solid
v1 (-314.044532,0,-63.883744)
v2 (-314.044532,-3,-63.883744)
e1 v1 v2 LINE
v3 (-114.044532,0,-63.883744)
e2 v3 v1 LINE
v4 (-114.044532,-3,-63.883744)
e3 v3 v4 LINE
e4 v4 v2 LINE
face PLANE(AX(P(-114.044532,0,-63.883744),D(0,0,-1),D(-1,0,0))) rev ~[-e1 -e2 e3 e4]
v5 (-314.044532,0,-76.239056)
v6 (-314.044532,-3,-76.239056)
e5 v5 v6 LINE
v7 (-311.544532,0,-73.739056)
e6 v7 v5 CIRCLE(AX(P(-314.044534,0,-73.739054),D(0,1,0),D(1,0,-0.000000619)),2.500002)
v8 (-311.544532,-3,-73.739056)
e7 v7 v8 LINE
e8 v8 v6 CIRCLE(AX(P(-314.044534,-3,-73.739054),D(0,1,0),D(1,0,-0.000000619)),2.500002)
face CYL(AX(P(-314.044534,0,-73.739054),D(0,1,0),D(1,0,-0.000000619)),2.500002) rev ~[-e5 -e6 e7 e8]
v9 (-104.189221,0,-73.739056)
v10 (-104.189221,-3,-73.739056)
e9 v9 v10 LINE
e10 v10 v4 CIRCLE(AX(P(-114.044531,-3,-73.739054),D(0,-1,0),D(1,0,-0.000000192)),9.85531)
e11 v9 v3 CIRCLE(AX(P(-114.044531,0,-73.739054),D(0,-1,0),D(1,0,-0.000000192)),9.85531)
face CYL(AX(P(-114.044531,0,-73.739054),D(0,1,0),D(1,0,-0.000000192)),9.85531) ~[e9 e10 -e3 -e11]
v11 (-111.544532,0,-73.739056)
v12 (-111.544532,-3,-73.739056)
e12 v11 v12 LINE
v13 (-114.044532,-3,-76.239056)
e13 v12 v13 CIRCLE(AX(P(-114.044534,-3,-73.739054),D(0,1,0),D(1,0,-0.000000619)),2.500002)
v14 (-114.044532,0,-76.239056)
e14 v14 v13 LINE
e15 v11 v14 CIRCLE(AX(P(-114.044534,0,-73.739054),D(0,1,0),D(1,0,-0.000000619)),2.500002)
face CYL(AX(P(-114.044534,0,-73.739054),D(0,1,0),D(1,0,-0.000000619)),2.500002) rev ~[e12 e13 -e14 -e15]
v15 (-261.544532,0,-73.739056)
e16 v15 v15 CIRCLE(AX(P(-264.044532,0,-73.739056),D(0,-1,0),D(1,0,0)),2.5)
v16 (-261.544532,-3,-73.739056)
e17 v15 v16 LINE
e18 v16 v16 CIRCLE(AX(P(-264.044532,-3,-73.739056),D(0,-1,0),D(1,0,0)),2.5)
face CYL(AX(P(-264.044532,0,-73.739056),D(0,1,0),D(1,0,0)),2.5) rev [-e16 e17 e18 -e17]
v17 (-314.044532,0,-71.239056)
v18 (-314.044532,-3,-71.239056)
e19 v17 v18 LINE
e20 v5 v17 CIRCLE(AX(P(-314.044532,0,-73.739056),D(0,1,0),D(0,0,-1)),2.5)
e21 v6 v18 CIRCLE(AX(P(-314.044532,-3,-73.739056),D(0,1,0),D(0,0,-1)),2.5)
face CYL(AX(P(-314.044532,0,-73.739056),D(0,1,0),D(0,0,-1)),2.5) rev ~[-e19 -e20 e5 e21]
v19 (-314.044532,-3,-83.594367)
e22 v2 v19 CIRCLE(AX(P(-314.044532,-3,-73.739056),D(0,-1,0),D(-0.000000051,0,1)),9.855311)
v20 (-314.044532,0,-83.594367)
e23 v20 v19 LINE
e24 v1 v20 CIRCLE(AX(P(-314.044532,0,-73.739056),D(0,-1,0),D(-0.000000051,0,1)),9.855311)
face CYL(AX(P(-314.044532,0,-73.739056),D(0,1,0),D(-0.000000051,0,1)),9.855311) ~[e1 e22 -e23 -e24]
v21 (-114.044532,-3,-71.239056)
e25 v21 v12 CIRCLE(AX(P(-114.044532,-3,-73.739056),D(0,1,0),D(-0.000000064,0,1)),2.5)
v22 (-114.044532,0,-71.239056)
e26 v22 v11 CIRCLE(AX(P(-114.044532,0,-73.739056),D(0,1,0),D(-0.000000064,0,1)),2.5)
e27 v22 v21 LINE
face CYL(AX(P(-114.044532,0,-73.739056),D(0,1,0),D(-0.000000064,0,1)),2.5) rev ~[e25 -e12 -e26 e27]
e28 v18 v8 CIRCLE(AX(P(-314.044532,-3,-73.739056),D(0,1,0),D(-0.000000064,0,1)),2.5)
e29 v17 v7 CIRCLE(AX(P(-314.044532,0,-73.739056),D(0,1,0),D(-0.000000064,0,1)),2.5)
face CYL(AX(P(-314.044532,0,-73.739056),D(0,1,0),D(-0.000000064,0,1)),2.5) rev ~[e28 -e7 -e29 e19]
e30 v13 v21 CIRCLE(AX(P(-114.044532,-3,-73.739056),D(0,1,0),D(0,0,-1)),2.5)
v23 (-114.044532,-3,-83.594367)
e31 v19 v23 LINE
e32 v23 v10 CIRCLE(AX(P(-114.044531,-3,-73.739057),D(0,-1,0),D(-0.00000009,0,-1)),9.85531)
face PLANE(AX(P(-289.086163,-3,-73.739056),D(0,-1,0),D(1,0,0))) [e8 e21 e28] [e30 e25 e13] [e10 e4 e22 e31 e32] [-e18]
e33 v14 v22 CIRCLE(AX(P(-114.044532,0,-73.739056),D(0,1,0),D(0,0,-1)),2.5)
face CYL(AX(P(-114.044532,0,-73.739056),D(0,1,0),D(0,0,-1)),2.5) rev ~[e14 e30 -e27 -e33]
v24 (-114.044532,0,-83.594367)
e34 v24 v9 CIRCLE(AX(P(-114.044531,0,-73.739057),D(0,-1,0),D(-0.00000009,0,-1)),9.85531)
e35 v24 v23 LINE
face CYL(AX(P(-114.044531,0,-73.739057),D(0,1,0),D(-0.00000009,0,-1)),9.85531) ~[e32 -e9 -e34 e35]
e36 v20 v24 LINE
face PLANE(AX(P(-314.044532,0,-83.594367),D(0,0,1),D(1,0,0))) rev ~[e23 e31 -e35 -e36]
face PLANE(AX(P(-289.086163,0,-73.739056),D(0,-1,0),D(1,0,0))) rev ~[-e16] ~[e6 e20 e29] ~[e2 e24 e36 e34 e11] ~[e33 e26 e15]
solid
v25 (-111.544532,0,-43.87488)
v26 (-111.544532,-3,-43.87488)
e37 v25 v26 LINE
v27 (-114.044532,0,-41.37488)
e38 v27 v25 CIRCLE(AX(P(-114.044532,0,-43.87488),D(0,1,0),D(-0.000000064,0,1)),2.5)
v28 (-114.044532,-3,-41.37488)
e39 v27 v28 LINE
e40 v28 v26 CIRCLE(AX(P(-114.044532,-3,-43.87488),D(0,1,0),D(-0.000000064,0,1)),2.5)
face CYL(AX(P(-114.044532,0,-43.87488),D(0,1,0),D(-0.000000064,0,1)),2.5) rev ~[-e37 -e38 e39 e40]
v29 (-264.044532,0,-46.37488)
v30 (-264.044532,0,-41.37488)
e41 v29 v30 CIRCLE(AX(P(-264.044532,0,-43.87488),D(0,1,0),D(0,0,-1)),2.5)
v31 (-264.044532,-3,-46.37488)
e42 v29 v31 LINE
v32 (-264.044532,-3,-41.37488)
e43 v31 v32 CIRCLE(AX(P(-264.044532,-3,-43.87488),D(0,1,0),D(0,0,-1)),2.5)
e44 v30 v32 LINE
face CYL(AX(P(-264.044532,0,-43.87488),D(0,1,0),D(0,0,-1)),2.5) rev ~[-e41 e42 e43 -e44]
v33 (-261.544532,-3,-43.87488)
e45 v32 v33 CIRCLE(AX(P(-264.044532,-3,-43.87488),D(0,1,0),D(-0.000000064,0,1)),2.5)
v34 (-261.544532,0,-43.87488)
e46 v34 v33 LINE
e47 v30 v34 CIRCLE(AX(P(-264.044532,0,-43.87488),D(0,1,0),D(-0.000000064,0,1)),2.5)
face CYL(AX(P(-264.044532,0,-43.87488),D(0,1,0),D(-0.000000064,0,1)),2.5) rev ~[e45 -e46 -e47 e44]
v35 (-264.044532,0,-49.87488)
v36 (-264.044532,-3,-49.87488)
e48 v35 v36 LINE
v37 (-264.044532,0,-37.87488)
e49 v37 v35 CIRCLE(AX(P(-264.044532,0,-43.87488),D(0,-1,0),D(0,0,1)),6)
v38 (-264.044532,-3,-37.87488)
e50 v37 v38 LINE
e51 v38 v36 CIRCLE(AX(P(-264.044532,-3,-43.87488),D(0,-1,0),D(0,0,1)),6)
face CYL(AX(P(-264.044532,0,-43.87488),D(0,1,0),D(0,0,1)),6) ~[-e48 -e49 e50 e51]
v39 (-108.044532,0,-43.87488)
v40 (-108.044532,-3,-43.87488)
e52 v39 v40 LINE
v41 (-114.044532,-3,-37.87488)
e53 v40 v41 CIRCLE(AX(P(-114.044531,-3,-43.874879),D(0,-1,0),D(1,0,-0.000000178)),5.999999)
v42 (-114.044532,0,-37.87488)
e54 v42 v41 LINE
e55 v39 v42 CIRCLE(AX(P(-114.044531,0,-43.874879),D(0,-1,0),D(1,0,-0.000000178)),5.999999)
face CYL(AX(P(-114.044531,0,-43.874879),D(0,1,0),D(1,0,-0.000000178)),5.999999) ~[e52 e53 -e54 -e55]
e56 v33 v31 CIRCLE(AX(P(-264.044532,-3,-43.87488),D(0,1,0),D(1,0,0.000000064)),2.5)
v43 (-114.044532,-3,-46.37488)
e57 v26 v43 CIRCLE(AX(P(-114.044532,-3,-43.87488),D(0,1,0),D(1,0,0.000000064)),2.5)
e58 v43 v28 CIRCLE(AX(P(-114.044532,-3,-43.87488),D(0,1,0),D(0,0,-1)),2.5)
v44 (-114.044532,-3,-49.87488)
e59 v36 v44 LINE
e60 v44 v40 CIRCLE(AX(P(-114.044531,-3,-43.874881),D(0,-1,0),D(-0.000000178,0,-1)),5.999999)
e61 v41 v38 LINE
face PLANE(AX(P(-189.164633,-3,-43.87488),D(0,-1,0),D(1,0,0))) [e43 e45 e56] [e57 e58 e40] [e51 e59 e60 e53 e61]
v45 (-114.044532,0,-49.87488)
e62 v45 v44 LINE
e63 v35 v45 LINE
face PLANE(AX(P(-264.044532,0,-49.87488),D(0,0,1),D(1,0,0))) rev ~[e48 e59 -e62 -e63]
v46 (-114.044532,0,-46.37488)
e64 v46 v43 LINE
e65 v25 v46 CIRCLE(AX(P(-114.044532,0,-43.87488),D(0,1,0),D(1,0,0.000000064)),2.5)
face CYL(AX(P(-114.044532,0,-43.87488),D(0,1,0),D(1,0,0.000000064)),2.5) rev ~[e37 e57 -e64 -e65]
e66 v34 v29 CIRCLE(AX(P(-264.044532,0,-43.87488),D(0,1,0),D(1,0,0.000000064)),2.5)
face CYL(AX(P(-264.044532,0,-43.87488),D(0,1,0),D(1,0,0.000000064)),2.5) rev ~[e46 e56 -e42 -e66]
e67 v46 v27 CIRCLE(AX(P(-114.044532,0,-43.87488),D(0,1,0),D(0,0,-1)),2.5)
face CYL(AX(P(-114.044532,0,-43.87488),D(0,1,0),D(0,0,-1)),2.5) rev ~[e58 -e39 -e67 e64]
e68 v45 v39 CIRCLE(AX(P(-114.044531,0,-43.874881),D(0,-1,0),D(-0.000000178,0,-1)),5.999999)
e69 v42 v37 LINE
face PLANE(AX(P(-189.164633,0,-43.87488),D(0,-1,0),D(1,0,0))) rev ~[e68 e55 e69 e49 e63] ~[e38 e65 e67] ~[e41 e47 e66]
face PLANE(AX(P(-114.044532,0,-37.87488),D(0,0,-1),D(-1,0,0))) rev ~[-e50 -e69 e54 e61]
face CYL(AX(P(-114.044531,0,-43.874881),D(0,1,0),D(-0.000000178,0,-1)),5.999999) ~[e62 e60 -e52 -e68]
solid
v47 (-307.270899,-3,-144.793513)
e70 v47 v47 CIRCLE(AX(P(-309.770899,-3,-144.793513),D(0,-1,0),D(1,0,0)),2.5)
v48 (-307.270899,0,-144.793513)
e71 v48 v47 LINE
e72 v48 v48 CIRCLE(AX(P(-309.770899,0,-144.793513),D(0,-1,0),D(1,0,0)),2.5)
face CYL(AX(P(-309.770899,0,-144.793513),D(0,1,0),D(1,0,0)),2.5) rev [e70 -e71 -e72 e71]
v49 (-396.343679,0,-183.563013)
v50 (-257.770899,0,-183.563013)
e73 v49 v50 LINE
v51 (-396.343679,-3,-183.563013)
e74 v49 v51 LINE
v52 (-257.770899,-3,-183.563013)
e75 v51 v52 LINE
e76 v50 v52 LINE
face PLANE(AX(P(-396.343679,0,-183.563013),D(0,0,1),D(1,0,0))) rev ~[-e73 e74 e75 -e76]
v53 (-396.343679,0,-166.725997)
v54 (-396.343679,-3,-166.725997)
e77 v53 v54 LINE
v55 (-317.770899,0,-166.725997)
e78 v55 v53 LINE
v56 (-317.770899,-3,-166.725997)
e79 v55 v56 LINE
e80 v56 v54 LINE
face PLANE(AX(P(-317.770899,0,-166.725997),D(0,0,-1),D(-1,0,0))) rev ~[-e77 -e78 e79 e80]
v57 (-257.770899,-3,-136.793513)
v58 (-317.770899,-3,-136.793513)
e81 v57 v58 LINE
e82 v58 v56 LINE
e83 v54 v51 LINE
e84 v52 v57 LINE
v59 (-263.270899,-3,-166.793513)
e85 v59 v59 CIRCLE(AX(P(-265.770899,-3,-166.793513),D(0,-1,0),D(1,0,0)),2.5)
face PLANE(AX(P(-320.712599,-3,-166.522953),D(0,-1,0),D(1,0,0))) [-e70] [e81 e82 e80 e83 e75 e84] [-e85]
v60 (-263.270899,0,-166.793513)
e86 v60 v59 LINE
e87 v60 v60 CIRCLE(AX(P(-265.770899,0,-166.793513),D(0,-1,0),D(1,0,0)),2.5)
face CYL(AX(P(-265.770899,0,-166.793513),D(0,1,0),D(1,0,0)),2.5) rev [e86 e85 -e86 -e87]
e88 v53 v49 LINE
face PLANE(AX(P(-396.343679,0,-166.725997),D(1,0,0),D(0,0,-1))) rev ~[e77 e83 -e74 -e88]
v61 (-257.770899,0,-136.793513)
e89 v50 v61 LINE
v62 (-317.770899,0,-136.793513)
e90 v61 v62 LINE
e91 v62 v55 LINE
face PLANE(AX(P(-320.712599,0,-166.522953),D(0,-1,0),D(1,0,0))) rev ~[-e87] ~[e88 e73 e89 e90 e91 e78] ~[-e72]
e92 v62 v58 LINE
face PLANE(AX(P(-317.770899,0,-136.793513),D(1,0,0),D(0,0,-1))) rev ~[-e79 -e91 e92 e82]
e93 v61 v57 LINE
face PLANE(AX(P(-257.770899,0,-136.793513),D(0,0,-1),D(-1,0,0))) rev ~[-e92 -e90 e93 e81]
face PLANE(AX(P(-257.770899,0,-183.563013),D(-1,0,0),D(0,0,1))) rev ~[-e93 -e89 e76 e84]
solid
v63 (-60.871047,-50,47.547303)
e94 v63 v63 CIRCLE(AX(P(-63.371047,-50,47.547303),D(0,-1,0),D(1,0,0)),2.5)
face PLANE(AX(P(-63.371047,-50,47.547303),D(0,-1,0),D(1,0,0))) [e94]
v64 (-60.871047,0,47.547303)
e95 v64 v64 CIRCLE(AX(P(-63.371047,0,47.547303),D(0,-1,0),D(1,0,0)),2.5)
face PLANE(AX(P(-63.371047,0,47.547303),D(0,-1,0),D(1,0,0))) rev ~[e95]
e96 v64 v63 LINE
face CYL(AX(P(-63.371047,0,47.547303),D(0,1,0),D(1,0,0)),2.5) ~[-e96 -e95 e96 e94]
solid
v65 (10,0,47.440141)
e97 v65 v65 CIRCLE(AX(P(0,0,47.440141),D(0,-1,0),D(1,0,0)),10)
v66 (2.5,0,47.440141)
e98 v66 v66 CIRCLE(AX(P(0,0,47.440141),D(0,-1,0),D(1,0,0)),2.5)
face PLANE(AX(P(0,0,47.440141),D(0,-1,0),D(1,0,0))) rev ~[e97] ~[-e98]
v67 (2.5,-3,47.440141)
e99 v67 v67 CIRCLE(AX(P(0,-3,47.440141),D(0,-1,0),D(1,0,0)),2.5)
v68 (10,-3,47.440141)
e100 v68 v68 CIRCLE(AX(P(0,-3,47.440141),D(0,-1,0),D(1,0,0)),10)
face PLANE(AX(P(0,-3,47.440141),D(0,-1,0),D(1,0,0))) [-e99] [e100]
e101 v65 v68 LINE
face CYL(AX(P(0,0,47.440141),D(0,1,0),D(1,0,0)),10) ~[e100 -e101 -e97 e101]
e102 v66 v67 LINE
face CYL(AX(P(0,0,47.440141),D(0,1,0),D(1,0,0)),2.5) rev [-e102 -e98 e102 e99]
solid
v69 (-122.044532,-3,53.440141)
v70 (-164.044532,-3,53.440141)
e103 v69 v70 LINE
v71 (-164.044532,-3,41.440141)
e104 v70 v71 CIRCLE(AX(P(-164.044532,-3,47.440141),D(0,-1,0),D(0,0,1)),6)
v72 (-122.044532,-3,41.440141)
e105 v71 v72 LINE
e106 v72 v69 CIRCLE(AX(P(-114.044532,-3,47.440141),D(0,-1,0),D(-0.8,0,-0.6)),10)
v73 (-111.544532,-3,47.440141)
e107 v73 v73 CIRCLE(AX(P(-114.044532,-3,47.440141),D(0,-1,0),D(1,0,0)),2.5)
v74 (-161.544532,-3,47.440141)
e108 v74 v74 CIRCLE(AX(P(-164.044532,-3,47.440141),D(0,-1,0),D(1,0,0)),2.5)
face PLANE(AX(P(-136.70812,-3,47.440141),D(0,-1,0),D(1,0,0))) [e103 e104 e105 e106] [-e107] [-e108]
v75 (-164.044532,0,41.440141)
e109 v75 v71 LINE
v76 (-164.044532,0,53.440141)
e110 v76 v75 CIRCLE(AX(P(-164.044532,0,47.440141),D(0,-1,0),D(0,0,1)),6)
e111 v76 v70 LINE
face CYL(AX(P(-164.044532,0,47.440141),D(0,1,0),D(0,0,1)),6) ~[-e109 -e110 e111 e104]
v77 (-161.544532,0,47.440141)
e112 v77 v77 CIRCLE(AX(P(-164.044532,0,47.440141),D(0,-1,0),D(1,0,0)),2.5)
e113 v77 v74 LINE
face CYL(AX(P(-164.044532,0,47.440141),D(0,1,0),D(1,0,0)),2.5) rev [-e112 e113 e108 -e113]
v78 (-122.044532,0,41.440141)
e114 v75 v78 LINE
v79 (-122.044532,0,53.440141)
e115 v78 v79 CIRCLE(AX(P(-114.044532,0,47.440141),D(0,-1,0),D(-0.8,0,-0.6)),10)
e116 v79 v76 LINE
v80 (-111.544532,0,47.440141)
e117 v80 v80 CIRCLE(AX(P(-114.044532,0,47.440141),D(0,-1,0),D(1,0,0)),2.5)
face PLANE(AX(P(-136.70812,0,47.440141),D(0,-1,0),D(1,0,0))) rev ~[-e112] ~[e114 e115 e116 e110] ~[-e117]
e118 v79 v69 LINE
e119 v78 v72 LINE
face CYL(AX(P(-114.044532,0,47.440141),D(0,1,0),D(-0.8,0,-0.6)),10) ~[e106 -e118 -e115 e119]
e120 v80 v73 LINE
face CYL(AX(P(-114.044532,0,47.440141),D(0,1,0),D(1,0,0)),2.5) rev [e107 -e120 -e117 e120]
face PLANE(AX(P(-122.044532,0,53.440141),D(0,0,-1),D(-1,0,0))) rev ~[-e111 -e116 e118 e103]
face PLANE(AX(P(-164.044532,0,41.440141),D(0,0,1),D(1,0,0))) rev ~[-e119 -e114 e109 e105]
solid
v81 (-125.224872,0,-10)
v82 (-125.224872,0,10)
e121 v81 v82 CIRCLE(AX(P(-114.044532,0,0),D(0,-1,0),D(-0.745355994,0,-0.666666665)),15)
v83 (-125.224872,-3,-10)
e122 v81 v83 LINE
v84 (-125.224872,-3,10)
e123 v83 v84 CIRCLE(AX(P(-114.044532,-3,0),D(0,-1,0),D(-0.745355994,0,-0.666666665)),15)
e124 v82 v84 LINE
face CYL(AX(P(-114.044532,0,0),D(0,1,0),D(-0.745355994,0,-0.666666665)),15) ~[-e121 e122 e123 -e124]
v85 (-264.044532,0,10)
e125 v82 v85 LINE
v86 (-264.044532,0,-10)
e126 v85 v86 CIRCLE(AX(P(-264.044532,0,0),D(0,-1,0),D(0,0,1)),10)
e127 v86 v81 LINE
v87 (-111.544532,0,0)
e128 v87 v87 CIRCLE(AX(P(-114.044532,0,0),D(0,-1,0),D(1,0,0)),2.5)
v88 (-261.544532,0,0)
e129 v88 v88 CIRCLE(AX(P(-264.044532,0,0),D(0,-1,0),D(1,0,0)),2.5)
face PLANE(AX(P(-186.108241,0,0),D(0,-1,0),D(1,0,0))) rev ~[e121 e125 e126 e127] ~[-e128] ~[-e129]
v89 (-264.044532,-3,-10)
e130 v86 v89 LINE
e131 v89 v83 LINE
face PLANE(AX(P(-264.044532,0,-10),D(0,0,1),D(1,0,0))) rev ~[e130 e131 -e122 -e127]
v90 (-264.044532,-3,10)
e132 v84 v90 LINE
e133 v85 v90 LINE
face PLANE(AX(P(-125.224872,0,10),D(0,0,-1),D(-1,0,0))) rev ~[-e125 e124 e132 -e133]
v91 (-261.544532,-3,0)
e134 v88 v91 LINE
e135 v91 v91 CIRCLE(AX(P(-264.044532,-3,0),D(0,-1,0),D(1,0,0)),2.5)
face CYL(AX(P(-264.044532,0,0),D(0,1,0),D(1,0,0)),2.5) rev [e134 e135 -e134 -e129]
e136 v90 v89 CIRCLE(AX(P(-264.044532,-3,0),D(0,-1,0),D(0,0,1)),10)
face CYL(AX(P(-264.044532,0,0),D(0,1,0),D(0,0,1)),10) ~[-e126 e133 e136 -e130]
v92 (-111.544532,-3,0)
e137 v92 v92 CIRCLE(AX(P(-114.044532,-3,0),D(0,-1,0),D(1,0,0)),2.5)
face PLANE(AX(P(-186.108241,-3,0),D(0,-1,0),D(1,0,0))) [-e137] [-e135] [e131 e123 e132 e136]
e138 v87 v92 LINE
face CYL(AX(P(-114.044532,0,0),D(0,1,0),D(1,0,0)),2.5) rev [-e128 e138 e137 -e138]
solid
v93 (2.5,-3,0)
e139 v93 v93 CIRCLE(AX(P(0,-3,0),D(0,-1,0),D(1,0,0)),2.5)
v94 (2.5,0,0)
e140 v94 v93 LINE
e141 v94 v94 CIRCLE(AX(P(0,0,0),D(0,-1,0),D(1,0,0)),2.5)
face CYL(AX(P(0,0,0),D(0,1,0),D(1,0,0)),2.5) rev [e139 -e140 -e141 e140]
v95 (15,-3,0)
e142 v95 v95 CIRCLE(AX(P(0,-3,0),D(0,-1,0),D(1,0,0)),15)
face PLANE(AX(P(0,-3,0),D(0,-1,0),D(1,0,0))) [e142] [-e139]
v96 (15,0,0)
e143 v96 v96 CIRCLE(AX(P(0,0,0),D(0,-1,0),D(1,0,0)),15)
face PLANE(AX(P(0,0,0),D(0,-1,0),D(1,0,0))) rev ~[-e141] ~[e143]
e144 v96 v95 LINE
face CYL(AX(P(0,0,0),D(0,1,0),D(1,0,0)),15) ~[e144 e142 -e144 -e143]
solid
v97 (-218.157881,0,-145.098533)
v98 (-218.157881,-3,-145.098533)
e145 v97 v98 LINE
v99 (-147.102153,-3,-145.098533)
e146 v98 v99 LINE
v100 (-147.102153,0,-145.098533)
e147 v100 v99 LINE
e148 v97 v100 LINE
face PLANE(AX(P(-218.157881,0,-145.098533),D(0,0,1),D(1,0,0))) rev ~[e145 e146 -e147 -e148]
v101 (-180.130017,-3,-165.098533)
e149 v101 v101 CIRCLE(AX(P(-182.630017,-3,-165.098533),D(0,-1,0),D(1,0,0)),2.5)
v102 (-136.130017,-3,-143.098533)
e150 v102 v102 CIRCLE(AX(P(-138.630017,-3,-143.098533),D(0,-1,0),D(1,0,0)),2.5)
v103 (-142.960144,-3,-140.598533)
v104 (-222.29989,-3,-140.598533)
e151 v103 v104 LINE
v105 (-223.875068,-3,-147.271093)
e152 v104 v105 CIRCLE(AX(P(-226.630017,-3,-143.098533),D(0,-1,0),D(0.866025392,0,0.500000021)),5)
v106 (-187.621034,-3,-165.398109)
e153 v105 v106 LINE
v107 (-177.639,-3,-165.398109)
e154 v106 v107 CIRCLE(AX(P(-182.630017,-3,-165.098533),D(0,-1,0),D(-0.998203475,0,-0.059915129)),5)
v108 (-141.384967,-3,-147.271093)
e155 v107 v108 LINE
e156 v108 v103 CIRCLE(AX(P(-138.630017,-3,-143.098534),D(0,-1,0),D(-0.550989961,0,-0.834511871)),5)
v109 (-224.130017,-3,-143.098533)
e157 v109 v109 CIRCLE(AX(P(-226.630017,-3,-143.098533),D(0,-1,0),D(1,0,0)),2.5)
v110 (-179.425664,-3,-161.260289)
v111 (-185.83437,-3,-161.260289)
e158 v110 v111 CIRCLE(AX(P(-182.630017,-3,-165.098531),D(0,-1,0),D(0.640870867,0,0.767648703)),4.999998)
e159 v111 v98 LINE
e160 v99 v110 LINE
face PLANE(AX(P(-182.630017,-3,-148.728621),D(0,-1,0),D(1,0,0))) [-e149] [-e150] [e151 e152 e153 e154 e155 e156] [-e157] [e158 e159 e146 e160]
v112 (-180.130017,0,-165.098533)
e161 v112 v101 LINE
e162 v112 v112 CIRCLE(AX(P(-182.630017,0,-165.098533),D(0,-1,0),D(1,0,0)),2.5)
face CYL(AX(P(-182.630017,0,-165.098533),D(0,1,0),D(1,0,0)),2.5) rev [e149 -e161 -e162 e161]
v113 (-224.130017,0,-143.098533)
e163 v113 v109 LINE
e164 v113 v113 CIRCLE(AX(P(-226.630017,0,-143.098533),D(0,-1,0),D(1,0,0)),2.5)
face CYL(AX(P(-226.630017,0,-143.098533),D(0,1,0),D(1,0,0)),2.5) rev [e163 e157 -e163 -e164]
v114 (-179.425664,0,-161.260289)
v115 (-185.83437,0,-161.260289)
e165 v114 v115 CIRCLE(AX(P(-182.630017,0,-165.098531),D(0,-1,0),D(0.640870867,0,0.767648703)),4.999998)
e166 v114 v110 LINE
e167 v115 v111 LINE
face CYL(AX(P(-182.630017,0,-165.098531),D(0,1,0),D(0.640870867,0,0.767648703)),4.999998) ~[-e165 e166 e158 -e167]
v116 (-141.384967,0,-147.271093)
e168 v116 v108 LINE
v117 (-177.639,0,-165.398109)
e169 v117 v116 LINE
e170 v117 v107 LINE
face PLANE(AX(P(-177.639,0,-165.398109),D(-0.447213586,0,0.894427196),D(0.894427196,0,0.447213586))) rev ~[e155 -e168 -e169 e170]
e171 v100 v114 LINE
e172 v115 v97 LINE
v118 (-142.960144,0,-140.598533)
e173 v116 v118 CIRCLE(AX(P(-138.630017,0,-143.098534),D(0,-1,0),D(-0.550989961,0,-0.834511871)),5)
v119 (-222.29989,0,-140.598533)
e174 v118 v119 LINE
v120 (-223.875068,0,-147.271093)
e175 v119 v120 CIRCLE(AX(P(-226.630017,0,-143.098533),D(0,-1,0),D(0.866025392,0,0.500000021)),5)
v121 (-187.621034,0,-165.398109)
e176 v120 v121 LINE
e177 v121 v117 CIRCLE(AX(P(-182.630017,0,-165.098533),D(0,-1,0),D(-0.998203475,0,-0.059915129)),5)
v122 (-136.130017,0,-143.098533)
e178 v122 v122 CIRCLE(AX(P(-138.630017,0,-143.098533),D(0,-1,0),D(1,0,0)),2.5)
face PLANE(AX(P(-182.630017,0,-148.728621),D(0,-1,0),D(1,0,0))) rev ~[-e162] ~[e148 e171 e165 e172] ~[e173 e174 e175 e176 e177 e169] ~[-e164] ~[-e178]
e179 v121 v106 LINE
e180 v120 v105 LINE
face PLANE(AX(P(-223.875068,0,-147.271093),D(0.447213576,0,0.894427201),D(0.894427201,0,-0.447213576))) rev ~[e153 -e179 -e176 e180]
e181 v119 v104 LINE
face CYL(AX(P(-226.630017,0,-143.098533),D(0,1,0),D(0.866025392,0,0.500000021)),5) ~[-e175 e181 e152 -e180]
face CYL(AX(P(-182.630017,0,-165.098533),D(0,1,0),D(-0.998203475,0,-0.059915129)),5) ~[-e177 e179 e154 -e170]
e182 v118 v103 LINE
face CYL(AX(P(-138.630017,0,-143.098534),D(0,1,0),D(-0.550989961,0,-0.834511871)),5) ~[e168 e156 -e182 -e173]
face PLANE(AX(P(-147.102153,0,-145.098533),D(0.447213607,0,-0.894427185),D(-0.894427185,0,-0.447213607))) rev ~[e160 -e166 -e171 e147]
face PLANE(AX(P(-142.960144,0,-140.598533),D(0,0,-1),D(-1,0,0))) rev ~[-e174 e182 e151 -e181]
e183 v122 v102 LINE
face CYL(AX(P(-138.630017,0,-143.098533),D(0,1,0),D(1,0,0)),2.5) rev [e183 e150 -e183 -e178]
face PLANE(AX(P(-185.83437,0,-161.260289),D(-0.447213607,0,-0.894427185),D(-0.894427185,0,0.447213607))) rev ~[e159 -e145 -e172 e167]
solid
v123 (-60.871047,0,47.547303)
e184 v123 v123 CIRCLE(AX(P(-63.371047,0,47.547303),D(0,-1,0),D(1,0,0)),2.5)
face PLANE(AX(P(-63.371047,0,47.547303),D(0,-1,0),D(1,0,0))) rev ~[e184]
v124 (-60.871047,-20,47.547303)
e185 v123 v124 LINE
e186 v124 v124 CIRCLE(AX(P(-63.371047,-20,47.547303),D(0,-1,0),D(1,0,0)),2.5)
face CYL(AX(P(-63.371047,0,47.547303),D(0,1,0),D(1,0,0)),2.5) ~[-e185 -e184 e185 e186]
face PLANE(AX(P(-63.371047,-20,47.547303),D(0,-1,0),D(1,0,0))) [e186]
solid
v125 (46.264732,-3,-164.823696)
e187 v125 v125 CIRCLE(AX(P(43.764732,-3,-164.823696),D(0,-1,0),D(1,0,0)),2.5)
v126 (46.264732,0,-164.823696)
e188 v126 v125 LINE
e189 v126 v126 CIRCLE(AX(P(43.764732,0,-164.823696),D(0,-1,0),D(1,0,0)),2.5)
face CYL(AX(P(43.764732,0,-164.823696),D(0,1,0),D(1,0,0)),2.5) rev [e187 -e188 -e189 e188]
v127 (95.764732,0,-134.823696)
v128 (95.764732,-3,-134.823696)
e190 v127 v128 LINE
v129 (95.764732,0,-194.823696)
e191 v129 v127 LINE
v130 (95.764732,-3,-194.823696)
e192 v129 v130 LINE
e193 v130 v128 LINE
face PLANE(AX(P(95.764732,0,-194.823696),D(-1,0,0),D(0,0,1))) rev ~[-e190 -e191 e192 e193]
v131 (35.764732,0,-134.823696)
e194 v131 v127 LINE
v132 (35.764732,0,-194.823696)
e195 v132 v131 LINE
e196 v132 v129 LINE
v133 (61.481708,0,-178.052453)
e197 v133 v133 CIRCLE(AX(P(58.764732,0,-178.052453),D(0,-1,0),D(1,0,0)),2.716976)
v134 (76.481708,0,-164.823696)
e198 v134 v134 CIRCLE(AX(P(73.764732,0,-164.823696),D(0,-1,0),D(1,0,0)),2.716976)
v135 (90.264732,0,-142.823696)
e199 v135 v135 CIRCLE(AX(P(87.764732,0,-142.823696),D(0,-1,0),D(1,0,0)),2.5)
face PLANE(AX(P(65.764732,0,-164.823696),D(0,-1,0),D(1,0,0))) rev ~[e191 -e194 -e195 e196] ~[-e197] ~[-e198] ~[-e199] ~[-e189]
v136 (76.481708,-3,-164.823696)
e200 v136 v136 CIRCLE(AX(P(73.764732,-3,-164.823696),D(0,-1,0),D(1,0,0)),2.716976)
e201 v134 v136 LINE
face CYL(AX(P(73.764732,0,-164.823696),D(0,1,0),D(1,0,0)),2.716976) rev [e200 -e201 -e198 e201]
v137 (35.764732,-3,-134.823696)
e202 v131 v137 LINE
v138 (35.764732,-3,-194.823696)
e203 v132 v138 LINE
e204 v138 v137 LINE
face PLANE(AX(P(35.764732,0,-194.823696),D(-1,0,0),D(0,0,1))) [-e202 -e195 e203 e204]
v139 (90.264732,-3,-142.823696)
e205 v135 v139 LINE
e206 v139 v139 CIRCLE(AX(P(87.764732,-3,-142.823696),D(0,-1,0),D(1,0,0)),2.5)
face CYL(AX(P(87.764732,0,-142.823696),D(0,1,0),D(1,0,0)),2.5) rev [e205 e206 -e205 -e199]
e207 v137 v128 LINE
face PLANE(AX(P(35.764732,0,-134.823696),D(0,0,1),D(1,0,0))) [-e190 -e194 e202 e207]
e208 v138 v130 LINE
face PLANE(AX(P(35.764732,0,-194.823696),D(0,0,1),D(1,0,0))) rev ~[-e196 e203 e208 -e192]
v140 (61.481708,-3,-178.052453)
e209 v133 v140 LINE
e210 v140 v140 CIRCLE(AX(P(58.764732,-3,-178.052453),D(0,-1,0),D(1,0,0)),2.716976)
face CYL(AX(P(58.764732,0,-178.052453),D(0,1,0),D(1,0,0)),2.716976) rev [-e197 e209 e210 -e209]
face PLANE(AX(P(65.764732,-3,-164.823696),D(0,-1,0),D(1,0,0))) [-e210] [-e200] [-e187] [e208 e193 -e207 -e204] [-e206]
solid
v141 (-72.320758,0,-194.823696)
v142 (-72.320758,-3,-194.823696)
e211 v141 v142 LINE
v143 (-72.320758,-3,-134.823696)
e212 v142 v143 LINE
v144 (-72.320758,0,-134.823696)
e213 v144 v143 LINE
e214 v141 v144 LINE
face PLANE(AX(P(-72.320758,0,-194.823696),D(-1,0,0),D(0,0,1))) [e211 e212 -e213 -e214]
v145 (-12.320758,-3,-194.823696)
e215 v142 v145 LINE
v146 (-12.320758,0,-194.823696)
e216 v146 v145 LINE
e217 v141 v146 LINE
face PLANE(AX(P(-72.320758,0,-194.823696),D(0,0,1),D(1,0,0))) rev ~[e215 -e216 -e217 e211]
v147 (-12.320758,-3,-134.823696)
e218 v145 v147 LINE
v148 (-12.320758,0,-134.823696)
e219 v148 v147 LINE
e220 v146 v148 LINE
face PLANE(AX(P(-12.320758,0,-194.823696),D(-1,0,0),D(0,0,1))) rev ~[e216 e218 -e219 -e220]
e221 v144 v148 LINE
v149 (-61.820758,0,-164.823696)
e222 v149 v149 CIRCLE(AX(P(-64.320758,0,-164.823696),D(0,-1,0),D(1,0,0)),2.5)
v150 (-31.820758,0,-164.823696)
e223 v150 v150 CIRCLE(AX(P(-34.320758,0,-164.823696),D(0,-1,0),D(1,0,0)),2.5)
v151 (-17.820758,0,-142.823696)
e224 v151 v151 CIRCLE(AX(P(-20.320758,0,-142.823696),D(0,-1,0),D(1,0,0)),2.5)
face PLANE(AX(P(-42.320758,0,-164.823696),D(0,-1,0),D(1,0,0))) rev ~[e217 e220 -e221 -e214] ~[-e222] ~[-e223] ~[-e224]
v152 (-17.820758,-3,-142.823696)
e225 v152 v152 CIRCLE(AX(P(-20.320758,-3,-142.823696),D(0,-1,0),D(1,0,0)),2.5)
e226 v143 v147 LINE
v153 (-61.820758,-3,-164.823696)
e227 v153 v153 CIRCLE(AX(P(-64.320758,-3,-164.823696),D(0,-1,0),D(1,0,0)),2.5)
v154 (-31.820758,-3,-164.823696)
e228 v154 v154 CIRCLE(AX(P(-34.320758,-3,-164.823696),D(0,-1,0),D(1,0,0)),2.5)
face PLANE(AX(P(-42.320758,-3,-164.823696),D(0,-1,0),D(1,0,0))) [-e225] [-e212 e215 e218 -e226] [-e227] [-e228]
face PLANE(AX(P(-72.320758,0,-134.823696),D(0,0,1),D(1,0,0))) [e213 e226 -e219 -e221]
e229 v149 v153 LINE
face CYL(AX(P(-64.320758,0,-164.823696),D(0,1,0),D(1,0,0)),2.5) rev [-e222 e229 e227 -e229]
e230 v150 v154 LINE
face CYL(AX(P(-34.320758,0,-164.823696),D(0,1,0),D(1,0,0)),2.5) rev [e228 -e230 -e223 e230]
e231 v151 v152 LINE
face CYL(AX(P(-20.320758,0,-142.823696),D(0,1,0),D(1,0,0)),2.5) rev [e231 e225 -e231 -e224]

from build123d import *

# Parameters (mm, degrees)
F0_R     = 15
F0_R_2   = 2.5
F0_R_3   = 10
F0_W     = 60
F0_H     = 60
F0_R_4   = 2.716976
F1_DEPTH = 3
F2_R     = 2.5
F3_DEPTH = 50
F4_DEPTH = 20


with BuildPart() as f1:
    # F0 (on Front) → F1 (new body)
    with BuildSketch(Plane.XZ):
        Circle(F0_R)
        Circle(F0_R_2, mode=Mode.SUBTRACT)
        with Locations((0, 47.440141)):
            Circle(F0_R_3)
        with Locations((0, 47.440141)):
            Circle(F0_R_2, mode=Mode.SUBTRACT)
        with BuildLine():
            Line((-164.044532, 41.440141), (-122.044532, 41.440141))
            ThreePointArc((-122.044532, 41.440141), (-104.044532, 47.440141), (-122.044532, 53.440141))
            Line((-122.044532, 53.440141), (-164.044532, 53.440141))
            ThreePointArc((-164.044532, 53.440141), (-170.044532, 47.440141), (-164.044532, 41.440141))
        make_face()
        with Locations((-164.044532, 47.440141)):
            Circle(F0_R_2, mode=Mode.SUBTRACT)
        with Locations((-114.044532, 47.440141)):
            Circle(F0_R_2, mode=Mode.SUBTRACT)
        with BuildLine():
            Line((-264.044532, -10), (-125.224872, -10))
            ThreePointArc((-125.224872, -10), (-99.044532, 0), (-125.224872, 10))
            Line((-125.224872, 10), (-264.044532, 10))
            ThreePointArc((-264.044532, 10), (-274.044532, 0), (-264.044532, -10))
        make_face()
        with Locations((-264.044532, 0)):
            Circle(F0_R_2, mode=Mode.SUBTRACT)
        with Locations((-114.044532, 0)):
            Circle(F0_R_2, mode=Mode.SUBTRACT)
        with BuildLine():
            ThreePointArc((-114.044532, -49.87488), (-120.044532, -43.87488), (-114.044532, -37.87488))
            Line((-114.044532, -37.87488), (-264.044532, -37.87488))
            ThreePointArc((-264.044532, -37.87488), (-259.801891, -39.632239), (-258.044532, -43.87488))
            ThreePointArc((-258.044532, -43.87488), (-259.801891, -48.117521), (-264.044532, -49.87488))
            Line((-264.044532, -49.87488), (-114.044532, -49.87488))
        make_face()
        with BuildLine():
            Line((-114.044532, -41.37488), (-114.044532, -37.87488))
            ThreePointArc((-114.044532, -37.87488), (-120.044532, -43.87488), (-114.044532, -49.87488))
            Line((-114.044532, -49.87488), (-114.044532, -46.37488))
            ThreePointArc((-114.044532, -46.37488), (-116.544532, -43.87488), (-114.044532, -41.37488))
        make_face()
        with BuildLine():
            ThreePointArc((-258.044532, -43.87488), (-259.801891, -39.632239), (-264.044532, -37.87488))
            Line((-264.044532, -37.87488), (-264.044532, -41.37488))
            ThreePointArc((-264.044532, -41.37488), (-262.276765, -42.107113), (-261.544532, -43.87488))
            ThreePointArc((-261.544532, -43.87488), (-262.276765, -45.642647), (-264.044532, -46.37488))
            Line((-264.044532, -46.37488), (-264.044532, -49.87488))
            ThreePointArc((-264.044532, -49.87488), (-259.801891, -48.117521), (-258.044532, -43.87488))
        make_face()
        with BuildLine():
            ThreePointArc((-264.044532, -83.594367), (-273.899843, -73.739055), (-264.044532, -63.883744))
            Line((-264.044532, -63.883744), (-314.044532, -63.883744))
            ThreePointArc((-314.044532, -63.883744), (-307.075774, -66.770298), (-304.189221, -73.739056))
            ThreePointArc((-304.189221, -73.739056), (-307.075774, -80.707813), (-314.044532, -83.594367))
            Line((-314.044532, -83.594367), (-264.044532, -83.594367))
        make_face()
        with BuildLine():
            ThreePointArc((-114.044532, -83.594367), (-123.899843, -73.739056), (-114.044532, -63.883744))
            Line((-114.044532, -63.883744), (-264.044532, -63.883744))
            ThreePointArc((-264.044532, -63.883744), (-257.075774, -66.770298), (-254.189221, -73.739056))
            ThreePointArc((-254.189221, -73.739056), (-257.075775, -80.707813), (-264.044532, -83.594367))
            Line((-264.044532, -83.594367), (-114.044532, -83.594367))
        make_face()
        with BuildLine():
            Line((-114.044532, -71.239056), (-114.044532, -63.883744))
            ThreePointArc((-114.044532, -63.883744), (-123.899843, -73.739056), (-114.044532, -83.594367))
            Line((-114.044532, -83.594367), (-114.044532, -76.239056))
            ThreePointArc((-114.044532, -76.239056), (-116.544532, -73.739056), (-114.044532, -71.239056))
        make_face()
        with BuildLine():
            ThreePointArc((-304.189221, -73.739056), (-307.075774, -66.770298), (-314.044532, -63.883744))
            Line((-314.044532, -63.883744), (-314.044532, -71.239056))
            ThreePointArc((-314.044532, -71.239056), (-312.276765, -71.971289), (-311.544532, -73.739056))
            ThreePointArc((-311.544532, -73.739056), (-312.276765, -75.506822), (-314.044532, -76.239056))
            Line((-314.044532, -76.239056), (-314.044532, -83.594367))
            ThreePointArc((-314.044532, -83.594367), (-307.075774, -80.707813), (-304.189221, -73.739056))
        make_face()
        Polygon((-396.343679, -183.563013), (-257.770899, -183.563013), (-257.770899, -163.850146), (-257.770899, -136.793513), (-317.770899, -136.793513), (-317.770899, -166.725997), (-396.343679, -166.725997), align=None)
        with Locations((-309.770899, -144.793513)):
            Circle(F0_R_2, mode=Mode.SUBTRACT)
        with Locations((-265.770899, -166.793513)):
            Circle(F0_R_2, mode=Mode.SUBTRACT)
        with BuildLine():
            ThreePointArc((-108.044532, -43.87488), (-109.801891, -39.632239), (-114.044532, -37.87488))
            Line((-114.044532, -37.87488), (-114.044532, -41.37488))
            ThreePointArc((-114.044532, -41.37488), (-112.276765, -42.107113), (-111.544532, -43.87488))
            ThreePointArc((-111.544532, -43.87488), (-112.276765, -45.642647), (-114.044532, -46.37488))
            Line((-114.044532, -46.37488), (-114.044532, -49.87488))
            ThreePointArc((-114.044532, -49.87488), (-109.801891, -48.117521), (-108.044532, -43.87488))
        make_face()
        with BuildLine():
            Line((-264.044532, -41.37488), (-264.044532, -37.87488))
            ThreePointArc((-264.044532, -37.87488), (-270.044532, -43.87488), (-264.044532, -49.87488))
            Line((-264.044532, -49.87488), (-264.044532, -46.37488))
            ThreePointArc((-264.044532, -46.37488), (-266.544532, -43.87488), (-264.044532, -41.37488))
        make_face()
        with BuildLine():
            ThreePointArc((-104.189221, -73.739056), (-107.075774, -66.770298), (-114.044532, -63.883744))
            Line((-114.044532, -63.883744), (-114.044532, -71.239056))
            ThreePointArc((-114.044532, -71.239056), (-112.276765, -71.971289), (-111.544532, -73.739056))
            ThreePointArc((-111.544532, -73.739056), (-112.276765, -75.506822), (-114.044532, -76.239056))
            Line((-114.044532, -76.239056), (-114.044532, -83.594367))
            ThreePointArc((-114.044532, -83.594367), (-107.075774, -80.707813), (-104.189221, -73.739056))
        make_face()
        with BuildLine():
            Line((-314.044532, -71.239056), (-314.044532, -63.883744))
            ThreePointArc((-314.044532, -63.883744), (-323.899843, -73.739056), (-314.044532, -83.594367))
            Line((-314.044532, -83.594367), (-314.044532, -76.239056))
            ThreePointArc((-314.044532, -76.239056), (-316.544532, -73.739056), (-314.044532, -71.239056))
        make_face()
        with BuildLine():
            ThreePointArc((-254.189221, -73.739056), (-257.075774, -66.770298), (-264.044532, -63.883744))
            ThreePointArc((-264.044532, -63.883744), (-273.899843, -73.739055), (-264.044532, -83.594367))
            ThreePointArc((-264.044532, -83.594367), (-257.075775, -80.707813), (-254.189221, -73.739056))
        make_face()
        with Locations((-264.044532, -73.739056)):
            Circle(F0_R_2, mode=Mode.SUBTRACT)
        with Locations((-42.320758, -164.823696)):
            Rectangle(F0_W, F0_H)
        with Locations((-64.320758, -164.823696)):
            Circle(F0_R_2, mode=Mode.SUBTRACT)
        with Locations((-34.320758, -164.823696)):
            Circle(F0_R_2, mode=Mode.SUBTRACT)
        with Locations((-20.320758, -142.823696)):
            Circle(F0_R_2, mode=Mode.SUBTRACT)
        with BuildLine():
            Line((-182.630017, -140.598533), (-222.29989, -140.598533))
            ThreePointArc((-222.29989, -140.598533), (-231.496262, -141.949769), (-223.875068, -147.271093))
            Line((-223.875068, -147.271093), (-187.621034, -165.398109))
            ThreePointArc((-187.621034, -165.398109), (-182.630017, -170.098533), (-177.639, -165.398109))
            Line((-177.639, -165.398109), (-141.384967, -147.271093))
            ThreePointArc((-141.384967, -147.271093), (-133.763772, -141.949769), (-142.960144, -140.598533))
            Line((-142.960144, -140.598533), (-182.630017, -140.598533))
        make_face()
        with Locations((-182.630017, -165.098533)):
            Circle(F0_R_2, mode=Mode.SUBTRACT)
        with Locations((-226.630017, -143.098533)):
            Circle(F0_R_2, mode=Mode.SUBTRACT)
        with BuildLine():
            Line((-185.83437, -161.260289), (-218.157881, -145.098533))
            Line((-218.157881, -145.098533), (-182.630017, -145.098533))
            Line((-182.630017, -145.098533), (-147.102153, -145.098533))
            Line((-147.102153, -145.098533), (-179.425664, -161.260289))
            ThreePointArc((-179.425664, -161.260289), (-182.630017, -160.098533), (-185.83437, -161.260289))
        make_face(mode=Mode.SUBTRACT)
        with Locations((-138.630017, -143.098533)):
            Circle(F0_R_2, mode=Mode.SUBTRACT)
        with Locations((65.764732, -164.823696)):
            Rectangle(F0_W, F0_H)
        with Locations((58.764732, -178.052453)):
            Circle(F0_R_4, mode=Mode.SUBTRACT)
        with Locations((43.764732, -164.823696)):
            Circle(F0_R_2, mode=Mode.SUBTRACT)
        with Locations((73.764732, -164.823696)):
            Circle(F0_R_4, mode=Mode.SUBTRACT)
        with Locations((87.764732, -142.823696)):
            Circle(F0_R_2, mode=Mode.SUBTRACT)
    extrude(amount=F1_DEPTH)


with BuildPart() as f3:
    # F2 (on Front) → F3 (new body)
    with BuildSketch(Plane.XZ):
        with Locations((-63.371047, 47.547303)):
            Circle(F2_R)
    extrude(amount=F3_DEPTH)


with BuildPart() as f4:
    # F2 (on Front) → F4 (new body)
    with BuildSketch(Plane.XZ):
        with Locations((-63.371047, 47.547303)):
            Circle(F2_R)
    extrude(amount=F4_DEPTH)


solid = Compound([f1.part, f3.part, f4.part])
